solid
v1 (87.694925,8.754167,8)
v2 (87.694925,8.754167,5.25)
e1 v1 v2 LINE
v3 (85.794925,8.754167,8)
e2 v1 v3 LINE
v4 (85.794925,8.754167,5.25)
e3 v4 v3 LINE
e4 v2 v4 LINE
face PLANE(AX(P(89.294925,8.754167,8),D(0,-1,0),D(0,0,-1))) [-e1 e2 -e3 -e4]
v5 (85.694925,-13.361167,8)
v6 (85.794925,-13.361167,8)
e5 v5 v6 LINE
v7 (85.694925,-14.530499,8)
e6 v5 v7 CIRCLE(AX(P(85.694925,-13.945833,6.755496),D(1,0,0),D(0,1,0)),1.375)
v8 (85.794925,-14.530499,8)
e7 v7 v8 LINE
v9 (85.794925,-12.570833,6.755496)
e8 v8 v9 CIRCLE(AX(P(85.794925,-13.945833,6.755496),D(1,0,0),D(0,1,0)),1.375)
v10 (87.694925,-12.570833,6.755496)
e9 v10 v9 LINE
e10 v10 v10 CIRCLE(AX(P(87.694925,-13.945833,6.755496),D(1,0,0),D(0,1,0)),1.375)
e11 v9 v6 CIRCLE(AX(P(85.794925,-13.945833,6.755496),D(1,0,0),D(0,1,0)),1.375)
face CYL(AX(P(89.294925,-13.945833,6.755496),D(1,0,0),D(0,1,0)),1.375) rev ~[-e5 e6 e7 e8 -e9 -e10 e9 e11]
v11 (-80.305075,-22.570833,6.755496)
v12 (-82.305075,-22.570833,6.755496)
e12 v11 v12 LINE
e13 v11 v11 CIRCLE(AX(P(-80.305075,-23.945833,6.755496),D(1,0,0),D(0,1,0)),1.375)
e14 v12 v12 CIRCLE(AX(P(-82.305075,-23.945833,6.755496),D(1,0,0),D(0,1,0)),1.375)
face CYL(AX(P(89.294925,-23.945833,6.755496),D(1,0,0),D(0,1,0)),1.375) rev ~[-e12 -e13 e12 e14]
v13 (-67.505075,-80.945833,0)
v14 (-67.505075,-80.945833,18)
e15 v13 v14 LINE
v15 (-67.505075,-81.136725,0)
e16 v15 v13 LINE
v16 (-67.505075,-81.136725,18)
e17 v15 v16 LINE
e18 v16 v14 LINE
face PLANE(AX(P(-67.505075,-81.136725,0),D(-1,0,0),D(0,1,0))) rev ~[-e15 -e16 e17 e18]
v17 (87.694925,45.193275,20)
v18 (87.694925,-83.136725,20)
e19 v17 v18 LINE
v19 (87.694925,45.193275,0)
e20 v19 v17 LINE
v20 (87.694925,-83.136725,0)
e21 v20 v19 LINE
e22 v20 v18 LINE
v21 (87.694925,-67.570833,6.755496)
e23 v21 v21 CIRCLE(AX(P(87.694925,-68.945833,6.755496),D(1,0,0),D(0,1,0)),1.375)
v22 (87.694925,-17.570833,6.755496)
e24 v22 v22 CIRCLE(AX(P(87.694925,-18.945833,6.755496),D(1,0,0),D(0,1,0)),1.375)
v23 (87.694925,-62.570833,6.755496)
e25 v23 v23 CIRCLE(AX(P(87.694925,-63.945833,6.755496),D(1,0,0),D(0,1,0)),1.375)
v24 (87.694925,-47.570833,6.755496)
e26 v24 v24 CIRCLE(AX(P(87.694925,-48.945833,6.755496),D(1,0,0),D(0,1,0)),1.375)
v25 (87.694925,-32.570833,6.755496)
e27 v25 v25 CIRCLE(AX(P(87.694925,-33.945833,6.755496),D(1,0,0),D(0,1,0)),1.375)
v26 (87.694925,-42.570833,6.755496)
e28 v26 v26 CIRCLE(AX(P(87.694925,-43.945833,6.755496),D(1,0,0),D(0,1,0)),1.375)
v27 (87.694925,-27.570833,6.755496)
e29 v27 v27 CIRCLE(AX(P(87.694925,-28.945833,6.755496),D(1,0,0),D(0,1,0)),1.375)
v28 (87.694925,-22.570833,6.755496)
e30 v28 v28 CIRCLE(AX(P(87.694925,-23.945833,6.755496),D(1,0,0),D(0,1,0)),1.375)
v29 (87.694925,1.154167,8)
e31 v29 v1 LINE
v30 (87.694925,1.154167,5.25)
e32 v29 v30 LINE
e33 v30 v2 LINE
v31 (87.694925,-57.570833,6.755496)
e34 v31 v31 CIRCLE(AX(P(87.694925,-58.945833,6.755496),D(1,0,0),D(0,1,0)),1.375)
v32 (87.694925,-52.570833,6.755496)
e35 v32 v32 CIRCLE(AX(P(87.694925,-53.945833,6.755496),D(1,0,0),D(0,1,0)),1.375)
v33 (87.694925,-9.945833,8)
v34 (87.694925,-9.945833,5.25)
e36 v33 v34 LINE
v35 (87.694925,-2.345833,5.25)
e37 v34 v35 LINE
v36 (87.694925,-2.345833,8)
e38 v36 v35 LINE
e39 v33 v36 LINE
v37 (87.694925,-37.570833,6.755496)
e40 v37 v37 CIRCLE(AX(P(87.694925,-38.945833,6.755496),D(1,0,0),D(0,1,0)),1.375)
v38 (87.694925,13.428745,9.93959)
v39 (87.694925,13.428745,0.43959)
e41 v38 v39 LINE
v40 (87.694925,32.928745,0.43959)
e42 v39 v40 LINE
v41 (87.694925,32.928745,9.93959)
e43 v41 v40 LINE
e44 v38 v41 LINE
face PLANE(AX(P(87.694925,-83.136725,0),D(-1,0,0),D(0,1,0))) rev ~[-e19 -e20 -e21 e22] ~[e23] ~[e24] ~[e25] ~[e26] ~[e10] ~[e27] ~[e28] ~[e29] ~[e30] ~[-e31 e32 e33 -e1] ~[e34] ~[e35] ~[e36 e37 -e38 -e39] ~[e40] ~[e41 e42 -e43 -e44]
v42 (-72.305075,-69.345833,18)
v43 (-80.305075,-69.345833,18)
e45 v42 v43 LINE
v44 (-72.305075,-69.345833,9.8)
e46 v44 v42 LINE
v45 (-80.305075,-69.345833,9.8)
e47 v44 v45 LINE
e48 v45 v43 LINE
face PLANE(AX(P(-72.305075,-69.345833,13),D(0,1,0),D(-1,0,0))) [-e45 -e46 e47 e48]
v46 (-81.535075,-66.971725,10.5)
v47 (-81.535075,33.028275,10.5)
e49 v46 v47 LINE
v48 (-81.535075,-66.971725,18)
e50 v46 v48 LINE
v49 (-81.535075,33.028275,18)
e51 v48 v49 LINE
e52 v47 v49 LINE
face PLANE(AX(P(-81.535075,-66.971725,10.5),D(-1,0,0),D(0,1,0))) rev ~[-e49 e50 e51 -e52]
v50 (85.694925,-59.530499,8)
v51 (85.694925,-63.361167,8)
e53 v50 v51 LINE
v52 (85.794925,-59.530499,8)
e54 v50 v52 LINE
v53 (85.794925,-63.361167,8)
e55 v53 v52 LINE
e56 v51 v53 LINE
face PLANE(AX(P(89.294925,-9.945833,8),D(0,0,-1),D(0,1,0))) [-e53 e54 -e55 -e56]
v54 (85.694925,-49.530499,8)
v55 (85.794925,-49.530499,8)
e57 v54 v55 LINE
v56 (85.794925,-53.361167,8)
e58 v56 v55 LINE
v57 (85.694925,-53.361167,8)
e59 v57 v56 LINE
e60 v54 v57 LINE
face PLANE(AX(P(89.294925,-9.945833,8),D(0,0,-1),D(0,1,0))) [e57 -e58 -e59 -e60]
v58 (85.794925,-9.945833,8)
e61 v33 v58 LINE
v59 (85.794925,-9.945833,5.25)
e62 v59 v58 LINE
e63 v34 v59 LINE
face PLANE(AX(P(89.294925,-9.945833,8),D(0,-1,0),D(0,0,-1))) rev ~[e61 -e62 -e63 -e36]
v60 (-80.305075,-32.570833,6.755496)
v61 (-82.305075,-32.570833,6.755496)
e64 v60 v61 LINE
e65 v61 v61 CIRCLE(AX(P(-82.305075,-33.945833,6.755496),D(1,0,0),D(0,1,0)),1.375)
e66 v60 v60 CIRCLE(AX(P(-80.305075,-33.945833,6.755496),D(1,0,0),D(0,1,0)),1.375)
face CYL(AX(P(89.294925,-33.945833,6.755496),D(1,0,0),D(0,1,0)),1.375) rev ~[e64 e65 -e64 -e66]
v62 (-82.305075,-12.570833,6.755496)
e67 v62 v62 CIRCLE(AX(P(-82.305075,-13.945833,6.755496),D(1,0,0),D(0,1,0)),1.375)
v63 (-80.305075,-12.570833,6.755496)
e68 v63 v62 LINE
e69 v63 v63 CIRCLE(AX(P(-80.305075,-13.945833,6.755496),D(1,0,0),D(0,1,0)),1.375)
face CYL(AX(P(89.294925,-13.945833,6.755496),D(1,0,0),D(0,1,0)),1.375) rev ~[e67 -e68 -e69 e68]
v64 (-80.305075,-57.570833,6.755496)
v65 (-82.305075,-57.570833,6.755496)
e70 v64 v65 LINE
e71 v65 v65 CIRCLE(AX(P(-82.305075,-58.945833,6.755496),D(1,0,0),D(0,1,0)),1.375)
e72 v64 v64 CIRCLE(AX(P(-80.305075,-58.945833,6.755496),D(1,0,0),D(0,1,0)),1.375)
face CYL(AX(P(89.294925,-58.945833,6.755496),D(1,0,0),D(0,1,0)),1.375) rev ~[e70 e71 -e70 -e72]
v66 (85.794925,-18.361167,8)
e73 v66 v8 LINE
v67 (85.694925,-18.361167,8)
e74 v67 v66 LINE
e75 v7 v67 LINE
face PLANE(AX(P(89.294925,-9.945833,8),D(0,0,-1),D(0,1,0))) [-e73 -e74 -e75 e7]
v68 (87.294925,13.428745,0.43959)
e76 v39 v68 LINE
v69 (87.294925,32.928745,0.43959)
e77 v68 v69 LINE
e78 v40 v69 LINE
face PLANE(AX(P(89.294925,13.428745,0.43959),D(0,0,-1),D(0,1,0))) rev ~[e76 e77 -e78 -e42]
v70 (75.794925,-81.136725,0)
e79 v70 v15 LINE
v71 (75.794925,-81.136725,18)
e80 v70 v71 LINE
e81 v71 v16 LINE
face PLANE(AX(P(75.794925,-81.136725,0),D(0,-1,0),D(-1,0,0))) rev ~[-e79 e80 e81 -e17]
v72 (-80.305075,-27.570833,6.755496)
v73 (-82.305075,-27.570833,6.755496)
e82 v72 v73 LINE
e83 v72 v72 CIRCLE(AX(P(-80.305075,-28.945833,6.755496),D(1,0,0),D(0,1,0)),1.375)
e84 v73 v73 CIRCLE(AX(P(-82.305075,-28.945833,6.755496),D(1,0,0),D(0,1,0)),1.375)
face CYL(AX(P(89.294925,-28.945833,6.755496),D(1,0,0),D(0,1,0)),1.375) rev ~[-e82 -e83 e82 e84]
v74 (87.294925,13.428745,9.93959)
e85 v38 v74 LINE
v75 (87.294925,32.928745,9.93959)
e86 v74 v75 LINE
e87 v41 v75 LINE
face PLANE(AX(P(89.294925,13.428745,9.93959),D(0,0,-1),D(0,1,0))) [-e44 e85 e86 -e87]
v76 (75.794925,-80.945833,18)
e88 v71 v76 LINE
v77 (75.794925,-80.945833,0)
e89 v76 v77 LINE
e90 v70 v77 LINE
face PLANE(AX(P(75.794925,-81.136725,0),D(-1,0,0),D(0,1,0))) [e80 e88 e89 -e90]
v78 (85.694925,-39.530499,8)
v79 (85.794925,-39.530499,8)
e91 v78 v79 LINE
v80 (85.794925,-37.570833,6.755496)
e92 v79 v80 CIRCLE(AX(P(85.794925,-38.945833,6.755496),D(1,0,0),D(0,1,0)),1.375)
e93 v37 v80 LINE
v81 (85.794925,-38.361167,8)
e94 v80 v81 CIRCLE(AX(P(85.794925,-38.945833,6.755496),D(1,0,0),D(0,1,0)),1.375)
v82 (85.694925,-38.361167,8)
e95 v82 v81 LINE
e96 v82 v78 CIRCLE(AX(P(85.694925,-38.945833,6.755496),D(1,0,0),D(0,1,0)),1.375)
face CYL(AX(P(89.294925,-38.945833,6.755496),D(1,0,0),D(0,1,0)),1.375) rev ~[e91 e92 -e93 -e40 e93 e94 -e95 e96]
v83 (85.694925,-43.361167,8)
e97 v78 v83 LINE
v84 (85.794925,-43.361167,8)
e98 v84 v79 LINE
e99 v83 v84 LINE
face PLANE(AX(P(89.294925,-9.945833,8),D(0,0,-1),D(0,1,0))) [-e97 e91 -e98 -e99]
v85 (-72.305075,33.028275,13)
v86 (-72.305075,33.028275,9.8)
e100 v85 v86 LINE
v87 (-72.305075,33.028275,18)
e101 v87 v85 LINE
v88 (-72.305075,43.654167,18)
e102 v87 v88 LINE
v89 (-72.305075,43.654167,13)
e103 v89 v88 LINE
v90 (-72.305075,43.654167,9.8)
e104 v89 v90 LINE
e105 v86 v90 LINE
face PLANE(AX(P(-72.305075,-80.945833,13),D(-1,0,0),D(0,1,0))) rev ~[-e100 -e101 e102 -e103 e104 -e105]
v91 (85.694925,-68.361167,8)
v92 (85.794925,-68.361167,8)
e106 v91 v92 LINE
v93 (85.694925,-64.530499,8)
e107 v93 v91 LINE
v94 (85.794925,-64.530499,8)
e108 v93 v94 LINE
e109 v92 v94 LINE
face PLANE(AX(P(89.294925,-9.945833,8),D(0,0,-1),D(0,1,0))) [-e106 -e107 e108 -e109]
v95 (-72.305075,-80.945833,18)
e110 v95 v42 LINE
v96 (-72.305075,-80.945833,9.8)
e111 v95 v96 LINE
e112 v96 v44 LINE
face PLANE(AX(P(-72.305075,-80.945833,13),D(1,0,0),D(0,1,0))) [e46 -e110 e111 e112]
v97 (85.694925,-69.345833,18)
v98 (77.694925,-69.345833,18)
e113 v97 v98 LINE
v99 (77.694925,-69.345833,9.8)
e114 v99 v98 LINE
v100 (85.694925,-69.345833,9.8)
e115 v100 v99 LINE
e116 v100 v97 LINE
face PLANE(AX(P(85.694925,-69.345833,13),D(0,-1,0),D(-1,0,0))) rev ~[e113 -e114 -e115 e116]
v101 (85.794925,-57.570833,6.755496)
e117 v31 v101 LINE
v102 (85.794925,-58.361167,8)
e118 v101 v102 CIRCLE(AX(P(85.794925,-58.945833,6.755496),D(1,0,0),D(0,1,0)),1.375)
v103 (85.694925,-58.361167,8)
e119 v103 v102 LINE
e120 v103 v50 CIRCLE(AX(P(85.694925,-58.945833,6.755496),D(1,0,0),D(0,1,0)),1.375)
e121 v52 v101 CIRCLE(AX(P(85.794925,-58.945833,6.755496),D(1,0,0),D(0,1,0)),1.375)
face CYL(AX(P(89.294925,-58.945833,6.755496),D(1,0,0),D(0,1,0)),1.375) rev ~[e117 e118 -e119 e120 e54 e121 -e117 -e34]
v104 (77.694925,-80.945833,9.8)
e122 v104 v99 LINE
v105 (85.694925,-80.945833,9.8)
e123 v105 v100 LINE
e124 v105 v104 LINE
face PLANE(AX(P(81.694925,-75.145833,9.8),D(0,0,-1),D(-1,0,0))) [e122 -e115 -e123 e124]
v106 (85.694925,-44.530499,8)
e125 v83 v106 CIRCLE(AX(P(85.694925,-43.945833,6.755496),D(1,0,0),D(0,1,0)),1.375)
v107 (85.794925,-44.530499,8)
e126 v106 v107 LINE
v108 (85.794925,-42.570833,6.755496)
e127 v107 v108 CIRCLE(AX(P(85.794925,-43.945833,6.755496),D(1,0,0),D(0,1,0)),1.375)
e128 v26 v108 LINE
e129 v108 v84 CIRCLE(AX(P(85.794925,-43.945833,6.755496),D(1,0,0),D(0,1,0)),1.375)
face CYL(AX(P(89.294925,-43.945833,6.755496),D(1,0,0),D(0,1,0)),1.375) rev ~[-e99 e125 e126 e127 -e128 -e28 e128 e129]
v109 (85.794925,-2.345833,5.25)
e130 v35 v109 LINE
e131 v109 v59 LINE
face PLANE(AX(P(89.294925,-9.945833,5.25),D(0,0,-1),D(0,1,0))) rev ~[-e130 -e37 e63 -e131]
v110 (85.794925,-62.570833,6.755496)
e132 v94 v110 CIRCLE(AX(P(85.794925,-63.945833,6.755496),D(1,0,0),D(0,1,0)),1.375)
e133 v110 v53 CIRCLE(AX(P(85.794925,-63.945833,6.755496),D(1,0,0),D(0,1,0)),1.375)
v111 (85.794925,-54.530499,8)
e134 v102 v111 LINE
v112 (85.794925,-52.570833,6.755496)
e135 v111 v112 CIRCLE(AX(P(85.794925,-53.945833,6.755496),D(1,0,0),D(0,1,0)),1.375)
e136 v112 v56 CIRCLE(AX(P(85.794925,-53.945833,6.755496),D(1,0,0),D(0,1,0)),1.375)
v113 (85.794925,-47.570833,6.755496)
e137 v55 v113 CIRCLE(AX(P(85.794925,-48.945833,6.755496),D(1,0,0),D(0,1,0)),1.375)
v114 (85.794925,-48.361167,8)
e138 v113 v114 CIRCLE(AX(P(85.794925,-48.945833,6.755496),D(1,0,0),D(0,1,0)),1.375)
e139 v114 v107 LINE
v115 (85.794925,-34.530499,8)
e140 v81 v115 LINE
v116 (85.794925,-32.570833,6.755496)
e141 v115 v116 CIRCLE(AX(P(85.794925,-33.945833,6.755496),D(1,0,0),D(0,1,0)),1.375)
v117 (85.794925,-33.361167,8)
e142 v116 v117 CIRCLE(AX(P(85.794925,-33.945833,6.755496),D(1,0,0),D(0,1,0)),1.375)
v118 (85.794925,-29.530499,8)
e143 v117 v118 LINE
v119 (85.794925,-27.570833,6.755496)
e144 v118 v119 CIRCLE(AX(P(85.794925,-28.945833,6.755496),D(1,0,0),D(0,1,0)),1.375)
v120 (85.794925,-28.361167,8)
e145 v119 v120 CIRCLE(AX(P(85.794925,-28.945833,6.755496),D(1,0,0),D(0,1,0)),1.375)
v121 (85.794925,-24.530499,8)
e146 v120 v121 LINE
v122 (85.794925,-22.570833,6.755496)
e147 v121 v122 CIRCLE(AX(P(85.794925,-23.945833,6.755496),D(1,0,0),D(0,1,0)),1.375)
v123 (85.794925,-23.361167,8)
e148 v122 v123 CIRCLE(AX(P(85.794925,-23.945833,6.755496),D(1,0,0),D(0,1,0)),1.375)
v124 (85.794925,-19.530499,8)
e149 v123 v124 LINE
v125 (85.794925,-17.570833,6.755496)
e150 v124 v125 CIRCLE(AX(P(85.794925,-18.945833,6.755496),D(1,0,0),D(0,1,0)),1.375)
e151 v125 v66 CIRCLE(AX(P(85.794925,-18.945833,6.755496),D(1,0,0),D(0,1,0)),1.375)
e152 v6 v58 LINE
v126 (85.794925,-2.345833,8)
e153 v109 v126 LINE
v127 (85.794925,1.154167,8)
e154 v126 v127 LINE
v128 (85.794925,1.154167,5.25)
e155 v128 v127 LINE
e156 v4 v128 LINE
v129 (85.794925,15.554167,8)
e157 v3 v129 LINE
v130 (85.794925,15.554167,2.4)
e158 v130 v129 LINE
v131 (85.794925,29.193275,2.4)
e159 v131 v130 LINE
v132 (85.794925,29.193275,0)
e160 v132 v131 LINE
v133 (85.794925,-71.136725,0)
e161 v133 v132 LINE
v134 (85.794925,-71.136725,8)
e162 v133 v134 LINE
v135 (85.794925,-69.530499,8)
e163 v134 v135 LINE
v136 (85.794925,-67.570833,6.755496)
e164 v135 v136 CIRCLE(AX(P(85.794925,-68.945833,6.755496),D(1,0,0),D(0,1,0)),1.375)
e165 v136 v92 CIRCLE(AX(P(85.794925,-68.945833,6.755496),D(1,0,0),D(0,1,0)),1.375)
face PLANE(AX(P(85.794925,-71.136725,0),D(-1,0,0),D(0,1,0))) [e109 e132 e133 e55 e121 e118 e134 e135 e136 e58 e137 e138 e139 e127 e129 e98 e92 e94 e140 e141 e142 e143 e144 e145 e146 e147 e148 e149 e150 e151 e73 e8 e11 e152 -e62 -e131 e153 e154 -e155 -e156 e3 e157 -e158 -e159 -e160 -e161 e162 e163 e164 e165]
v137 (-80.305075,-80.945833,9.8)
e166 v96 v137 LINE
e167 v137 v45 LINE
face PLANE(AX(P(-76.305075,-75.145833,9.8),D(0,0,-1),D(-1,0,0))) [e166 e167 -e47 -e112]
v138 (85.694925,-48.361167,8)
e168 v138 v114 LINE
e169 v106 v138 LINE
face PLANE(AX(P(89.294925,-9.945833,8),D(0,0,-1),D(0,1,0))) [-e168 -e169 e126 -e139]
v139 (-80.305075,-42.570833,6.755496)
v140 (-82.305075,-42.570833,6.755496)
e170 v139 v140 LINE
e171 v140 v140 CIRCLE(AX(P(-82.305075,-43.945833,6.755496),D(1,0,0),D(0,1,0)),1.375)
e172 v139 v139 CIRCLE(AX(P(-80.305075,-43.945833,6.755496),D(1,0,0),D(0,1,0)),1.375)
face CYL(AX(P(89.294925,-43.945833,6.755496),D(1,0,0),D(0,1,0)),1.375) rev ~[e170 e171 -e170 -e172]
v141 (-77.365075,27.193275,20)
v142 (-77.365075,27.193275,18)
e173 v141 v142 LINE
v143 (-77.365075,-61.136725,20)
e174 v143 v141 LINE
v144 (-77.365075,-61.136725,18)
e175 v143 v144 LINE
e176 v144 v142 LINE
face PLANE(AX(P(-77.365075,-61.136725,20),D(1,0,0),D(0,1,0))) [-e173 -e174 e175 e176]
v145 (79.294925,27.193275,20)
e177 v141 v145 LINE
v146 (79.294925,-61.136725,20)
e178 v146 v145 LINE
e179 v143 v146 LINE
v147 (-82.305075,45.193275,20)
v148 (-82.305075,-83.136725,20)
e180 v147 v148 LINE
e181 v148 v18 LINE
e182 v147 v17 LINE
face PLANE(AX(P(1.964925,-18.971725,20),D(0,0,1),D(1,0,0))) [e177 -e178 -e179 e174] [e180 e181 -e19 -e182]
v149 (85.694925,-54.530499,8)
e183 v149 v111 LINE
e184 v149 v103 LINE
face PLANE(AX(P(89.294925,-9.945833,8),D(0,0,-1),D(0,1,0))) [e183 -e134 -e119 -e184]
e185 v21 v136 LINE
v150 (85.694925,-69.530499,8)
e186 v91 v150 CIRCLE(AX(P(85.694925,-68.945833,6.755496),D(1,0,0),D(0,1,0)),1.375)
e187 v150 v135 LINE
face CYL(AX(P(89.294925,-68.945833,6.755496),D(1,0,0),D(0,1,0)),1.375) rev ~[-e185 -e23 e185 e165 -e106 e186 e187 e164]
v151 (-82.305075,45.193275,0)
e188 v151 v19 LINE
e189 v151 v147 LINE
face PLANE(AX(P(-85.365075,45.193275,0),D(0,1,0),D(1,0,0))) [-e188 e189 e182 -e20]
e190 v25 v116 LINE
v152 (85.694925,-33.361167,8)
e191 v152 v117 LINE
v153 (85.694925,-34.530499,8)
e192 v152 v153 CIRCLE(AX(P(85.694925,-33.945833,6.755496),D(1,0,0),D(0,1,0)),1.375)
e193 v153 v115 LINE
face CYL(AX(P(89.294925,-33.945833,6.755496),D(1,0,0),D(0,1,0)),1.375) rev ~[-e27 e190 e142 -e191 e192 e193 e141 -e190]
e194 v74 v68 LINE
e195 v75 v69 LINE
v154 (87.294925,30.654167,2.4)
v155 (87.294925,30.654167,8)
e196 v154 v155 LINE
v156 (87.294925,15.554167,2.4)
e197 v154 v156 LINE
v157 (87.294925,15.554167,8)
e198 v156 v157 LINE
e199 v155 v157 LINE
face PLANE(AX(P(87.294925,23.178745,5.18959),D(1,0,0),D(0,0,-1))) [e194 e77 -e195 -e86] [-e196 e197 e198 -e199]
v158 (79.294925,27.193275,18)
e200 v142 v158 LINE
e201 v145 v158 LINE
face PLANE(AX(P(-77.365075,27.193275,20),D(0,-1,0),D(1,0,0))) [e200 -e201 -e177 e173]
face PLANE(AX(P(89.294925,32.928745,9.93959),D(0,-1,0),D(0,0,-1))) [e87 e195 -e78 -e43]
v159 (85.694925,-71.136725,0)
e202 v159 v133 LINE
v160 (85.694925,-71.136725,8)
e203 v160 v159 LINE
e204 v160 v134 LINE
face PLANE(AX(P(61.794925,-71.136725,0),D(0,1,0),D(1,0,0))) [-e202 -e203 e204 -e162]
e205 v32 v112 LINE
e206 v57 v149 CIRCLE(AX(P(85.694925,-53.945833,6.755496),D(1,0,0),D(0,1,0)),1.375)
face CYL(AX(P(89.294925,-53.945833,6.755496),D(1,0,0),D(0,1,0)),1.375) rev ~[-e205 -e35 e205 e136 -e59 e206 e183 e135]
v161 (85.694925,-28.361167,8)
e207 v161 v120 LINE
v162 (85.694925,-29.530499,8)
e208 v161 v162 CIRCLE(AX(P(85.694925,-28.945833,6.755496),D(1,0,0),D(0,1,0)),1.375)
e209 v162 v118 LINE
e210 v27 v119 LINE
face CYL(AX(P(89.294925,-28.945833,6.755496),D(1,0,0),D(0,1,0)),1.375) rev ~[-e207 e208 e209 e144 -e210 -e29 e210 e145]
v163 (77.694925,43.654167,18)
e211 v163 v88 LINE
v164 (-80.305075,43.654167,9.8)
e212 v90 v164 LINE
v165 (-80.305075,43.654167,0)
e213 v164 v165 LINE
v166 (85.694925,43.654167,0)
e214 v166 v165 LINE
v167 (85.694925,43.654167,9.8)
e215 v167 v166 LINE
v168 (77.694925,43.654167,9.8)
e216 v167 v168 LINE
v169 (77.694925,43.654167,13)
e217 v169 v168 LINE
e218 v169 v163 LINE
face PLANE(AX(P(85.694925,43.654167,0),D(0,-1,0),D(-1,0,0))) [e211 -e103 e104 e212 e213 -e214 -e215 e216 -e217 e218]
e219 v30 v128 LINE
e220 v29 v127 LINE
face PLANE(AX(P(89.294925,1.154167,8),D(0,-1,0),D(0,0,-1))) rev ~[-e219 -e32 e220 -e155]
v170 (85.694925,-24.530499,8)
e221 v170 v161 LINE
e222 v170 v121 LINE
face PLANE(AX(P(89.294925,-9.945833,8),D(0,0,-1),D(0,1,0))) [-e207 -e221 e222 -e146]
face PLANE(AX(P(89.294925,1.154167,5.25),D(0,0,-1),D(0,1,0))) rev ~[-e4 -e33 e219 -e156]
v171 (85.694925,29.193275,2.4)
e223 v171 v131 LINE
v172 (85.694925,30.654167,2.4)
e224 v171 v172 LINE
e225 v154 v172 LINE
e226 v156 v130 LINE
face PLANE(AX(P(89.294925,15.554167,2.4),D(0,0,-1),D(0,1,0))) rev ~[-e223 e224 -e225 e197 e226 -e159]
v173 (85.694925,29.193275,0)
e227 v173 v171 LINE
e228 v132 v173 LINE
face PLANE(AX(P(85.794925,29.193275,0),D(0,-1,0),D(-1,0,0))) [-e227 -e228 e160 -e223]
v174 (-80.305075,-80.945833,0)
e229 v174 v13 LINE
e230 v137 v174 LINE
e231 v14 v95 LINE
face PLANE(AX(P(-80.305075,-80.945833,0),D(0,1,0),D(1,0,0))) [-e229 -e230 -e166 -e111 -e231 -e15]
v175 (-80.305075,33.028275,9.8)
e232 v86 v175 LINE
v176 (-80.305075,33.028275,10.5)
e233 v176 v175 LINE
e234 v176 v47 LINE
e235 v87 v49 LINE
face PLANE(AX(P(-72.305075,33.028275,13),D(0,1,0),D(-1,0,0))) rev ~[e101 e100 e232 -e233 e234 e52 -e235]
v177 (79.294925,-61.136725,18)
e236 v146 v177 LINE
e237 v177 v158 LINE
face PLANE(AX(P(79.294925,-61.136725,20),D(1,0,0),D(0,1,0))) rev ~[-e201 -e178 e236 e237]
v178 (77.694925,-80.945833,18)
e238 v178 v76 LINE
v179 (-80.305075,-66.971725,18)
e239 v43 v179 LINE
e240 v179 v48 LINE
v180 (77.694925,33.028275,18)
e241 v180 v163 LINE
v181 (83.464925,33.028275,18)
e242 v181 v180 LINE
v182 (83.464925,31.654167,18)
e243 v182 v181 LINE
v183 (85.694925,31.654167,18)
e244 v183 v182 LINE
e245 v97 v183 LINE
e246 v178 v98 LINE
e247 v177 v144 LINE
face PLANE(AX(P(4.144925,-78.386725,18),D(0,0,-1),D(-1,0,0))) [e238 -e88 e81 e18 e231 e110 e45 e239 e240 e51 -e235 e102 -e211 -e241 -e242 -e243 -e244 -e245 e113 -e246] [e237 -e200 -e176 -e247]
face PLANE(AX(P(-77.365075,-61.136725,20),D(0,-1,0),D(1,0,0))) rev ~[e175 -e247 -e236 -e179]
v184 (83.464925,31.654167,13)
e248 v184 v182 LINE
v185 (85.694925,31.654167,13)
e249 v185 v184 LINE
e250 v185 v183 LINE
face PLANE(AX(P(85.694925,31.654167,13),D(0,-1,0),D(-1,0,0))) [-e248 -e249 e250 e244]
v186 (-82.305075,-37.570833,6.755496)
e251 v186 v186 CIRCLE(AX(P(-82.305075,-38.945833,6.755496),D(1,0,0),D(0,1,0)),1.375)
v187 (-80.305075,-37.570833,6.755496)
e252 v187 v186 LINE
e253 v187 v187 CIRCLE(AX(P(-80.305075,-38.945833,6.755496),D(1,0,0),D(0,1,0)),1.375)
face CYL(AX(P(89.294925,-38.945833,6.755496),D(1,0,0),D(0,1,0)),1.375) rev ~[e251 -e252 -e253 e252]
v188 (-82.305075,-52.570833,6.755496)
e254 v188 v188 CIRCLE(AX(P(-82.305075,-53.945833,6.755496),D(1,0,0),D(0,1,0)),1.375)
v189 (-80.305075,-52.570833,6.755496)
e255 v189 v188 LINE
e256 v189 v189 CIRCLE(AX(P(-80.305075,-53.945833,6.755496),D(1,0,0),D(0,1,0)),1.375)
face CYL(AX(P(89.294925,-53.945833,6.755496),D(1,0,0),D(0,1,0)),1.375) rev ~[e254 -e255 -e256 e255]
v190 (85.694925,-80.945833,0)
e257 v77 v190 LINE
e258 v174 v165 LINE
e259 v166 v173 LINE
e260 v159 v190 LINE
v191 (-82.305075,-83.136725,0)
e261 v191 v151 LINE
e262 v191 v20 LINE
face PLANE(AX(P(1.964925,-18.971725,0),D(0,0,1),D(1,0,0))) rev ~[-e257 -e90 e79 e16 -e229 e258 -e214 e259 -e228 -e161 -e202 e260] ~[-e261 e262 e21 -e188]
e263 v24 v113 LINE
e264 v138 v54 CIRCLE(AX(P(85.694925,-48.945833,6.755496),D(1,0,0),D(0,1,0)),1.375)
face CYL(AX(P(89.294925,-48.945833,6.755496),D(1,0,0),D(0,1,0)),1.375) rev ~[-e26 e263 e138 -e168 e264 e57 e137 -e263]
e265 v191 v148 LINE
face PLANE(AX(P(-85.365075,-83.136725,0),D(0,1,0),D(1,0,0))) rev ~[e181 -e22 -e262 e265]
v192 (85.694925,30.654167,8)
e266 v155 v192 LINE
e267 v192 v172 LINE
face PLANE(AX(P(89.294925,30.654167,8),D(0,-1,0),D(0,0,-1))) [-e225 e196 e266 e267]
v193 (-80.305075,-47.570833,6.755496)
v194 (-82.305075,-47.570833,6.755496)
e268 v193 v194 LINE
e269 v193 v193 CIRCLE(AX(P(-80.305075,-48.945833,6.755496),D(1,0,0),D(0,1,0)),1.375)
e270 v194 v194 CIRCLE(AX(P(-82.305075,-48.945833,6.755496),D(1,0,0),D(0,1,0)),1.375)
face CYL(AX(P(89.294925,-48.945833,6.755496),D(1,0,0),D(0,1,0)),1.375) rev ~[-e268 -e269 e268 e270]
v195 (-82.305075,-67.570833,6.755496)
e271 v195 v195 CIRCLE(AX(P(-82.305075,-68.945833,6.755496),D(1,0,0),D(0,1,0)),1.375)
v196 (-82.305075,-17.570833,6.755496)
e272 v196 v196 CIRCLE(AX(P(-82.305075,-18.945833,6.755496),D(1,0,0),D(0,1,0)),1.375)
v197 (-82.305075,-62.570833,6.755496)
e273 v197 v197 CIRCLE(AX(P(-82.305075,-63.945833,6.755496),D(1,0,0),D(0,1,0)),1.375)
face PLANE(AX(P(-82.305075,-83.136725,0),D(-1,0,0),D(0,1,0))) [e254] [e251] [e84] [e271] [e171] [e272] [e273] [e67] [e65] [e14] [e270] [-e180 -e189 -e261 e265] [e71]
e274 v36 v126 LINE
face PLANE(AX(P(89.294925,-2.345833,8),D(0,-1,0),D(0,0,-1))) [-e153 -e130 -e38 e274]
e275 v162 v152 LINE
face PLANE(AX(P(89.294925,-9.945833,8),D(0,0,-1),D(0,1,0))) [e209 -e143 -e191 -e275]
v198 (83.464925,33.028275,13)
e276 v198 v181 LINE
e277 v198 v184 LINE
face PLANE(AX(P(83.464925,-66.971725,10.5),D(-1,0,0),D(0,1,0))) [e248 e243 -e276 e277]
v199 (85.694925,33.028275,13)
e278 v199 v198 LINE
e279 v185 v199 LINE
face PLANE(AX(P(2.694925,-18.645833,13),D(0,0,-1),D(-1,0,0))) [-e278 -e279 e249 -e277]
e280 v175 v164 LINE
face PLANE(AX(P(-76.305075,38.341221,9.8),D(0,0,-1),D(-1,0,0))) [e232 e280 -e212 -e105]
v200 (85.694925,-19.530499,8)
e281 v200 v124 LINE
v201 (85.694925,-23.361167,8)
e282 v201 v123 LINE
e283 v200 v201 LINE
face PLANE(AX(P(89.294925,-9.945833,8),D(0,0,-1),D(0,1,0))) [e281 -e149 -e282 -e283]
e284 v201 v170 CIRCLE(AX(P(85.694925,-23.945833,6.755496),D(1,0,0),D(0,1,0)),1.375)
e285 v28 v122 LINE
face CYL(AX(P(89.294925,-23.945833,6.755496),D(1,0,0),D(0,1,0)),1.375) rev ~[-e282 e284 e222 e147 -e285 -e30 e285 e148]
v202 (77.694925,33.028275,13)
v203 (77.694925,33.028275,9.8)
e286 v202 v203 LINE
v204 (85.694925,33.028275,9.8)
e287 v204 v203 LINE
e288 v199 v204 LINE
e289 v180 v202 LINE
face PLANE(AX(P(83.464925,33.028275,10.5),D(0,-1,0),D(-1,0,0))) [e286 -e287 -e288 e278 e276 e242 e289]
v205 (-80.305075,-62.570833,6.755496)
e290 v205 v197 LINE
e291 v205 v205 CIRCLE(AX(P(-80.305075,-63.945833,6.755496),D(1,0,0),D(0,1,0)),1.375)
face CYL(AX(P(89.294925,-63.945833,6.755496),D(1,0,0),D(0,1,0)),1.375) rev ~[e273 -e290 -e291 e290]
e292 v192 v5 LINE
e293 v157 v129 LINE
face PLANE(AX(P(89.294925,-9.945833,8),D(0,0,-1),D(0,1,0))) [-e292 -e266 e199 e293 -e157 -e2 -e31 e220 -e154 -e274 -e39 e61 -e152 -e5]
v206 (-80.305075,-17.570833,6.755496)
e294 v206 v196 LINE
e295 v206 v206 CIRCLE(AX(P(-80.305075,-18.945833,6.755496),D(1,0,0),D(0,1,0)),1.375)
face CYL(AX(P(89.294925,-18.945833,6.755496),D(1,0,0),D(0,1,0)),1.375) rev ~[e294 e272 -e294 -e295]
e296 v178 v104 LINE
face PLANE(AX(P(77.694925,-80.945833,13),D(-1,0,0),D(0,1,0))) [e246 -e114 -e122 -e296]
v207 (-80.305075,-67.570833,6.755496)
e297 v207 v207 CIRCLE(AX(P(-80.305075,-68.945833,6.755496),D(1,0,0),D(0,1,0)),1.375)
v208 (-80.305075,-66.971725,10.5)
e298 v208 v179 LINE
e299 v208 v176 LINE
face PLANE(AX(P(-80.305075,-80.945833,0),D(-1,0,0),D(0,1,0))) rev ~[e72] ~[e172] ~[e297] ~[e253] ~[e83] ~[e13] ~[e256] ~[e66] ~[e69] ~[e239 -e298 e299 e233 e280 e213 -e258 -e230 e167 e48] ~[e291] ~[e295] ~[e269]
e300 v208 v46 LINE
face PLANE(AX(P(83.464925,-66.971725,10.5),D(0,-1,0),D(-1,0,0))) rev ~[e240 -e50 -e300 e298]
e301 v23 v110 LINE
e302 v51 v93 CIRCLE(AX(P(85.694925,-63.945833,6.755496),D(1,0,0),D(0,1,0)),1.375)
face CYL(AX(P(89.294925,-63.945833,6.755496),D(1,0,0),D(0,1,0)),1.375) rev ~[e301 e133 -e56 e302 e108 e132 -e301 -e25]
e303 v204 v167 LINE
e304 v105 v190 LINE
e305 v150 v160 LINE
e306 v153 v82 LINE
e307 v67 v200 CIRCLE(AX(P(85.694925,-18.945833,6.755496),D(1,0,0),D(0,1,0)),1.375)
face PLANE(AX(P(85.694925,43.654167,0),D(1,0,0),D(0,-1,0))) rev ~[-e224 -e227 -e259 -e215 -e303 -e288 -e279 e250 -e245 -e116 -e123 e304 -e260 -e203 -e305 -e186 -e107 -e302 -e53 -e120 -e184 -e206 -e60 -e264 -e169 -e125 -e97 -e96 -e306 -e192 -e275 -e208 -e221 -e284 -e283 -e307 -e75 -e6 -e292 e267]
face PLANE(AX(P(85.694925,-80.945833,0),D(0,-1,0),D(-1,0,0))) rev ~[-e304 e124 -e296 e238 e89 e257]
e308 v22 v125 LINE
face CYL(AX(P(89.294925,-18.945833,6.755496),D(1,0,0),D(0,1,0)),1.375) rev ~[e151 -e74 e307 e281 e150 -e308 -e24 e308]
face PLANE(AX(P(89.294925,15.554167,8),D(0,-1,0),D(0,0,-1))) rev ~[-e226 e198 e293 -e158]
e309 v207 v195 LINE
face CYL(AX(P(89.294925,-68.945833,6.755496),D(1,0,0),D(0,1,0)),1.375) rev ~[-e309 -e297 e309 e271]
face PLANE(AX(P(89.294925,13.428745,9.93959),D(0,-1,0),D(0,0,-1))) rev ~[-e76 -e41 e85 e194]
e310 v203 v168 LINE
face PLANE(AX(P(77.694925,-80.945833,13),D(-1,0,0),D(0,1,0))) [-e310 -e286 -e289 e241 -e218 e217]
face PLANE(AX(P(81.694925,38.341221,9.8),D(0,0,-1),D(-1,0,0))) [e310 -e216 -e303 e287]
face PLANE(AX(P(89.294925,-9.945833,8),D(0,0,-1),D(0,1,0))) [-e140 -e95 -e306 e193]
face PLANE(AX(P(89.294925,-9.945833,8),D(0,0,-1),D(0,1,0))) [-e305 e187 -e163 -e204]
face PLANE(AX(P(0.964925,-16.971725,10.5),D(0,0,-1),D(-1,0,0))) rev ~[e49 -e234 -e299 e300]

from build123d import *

# Parameters (mm, degrees)
SKETCH_1_W           = 174.66
SKETCH_1_H           = 128.33
EXTRUDE_1_DEPTH      = 20
CUT_EXTRUDE_2_DEPTH  = 8
CUT_EXTRUDE_3_DEPTH  = 10.5
SKETCH_6_W           = 5.6
SKETCH_6_H           = 15.1
SKETCH_6_W_2         = 2.75
SKETCH_6_H_2         = 7.6
CUT_EXTRUDE_4_DEPTH  = 8
SKETCH_7_W           = 9.5
SKETCH_7_H           = 19.5
CUT_EXTRUDE_5_DEPTH  = 2
SKETCH_8_R           = 1.375
CUT_EXTRUDE_6_DEPTH  = 195.468071014
SKETCH_9_W           = 143.3
SKETCH_9_H           = 5.5
SKETCH_9_W_2         = 144.4
SKETCH_9_H_2         = 6.339108063
CUT_EXTRUDE_7_DEPTH  = 18
SKETCH_2_W           = 156.66
SKETCH_2_H           = 88.33
CUT_EXTRUDE_8_DEPTH  = 124.6337279
SKETCH_10_W          = 165
SKETCH_10_H          = 100
CUT_EXTRUDE_10_DEPTH = 7.5
SKETCH_11_W          = 44.991562028
SKETCH_11_H          = 7.165
CUT_EXTRUDE_11_DEPTH = 18
SKETCH_12_W          = 166
SKETCH_12_H          = 124.6
CUT_EXTRUDE_12_DEPTH = 13
SKETCH_13_W          = 150
SKETCH_13_H          = 124.6
CUT_EXTRUDE_15_DEPTH = 5
SKETCH_14_W          = 8
SKETCH_14_H          = 101
CUT_EXTRUDE_16_DEPTH = 5
SKETCH_15_W          = 3.06
SKETCH_15_H          = 128.33
SKETCH_15_W_2        = 1.6
CUT_EXTRUDE_17_DEPTH = 124.6337279
SKETCH_16_W          = 8
SKETCH_16_H          = 11.6
SKETCH_16_H_2        = 10.625891937
EXTRUDE_2_DEPTH      = 3.2


with BuildPart() as part:
    # 草图1 → 凸台-拉伸1 (new body)
    with BuildSketch(Plane.XY):
        with Locations((1.964925, -18.971725)):
            Rectangle(SKETCH_1_W, SKETCH_1_H)
    extrude(amount=EXTRUDE_1_DEPTH)

    # 草图4 → 切除-拉伸2 (cut)
    with BuildSketch(Plane(origin=(0, 0, 0), x_dir=(-1, 0, 0), z_dir=(0, 0, -1))):
        Polygon((-85.794925, 29.193275), (78.715075, 29.193275), (78.715075, -71.136725), (-16.794925, -71.136725), (-16.794925, -74.136725), (-61.794925, -74.136725), (-61.794925, -71.136725), (-85.794925, -71.136725), align=None)
    extrude(amount=-CUT_EXTRUDE_2_DEPTH, mode=Mode.SUBTRACT)

    # 草图5 → 切除-拉伸3 (cut)
    with BuildSketch(Plane(origin=(0, 0, 0), x_dir=(-1, 0, 0), z_dir=(0, 0, -1))):
        Polygon((-76.894925, 34.854166937), (71.505075, 34.854166937), (71.505075, 43.654166937), (80.305075, 43.654166937), (80.305075, 34.854166937), (80.305075, -72.145833063), (80.305075, -80.945833063), (69.505075, -80.945833063), (69.505075, -72.145833063), (-77.794925, -72.145833063), (-77.794925, -80.945833063), (-85.694925, -80.945833063), (-85.694925, -72.145833063), (-85.694925, 34.854166937), (-85.694925, 43.654166937), (-76.894925, 43.654166937), align=None)
    extrude(amount=-CUT_EXTRUDE_3_DEPTH, mode=Mode.SUBTRACT)

    # 草图6 → 切除-拉伸4 (cut)
    with BuildSketch(Plane(origin=(89.294925, 0, 0), x_dir=(0, 0, -1), z_dir=(1, 0, 0))):
        with Locations((-5.2, 23.104166937)):
            Rectangle(SKETCH_6_W, SKETCH_6_H)
        with Locations((-6.625, 4.954166937)):
            Rectangle(SKETCH_6_W_2, SKETCH_6_H_2)
        with Locations((-6.625, -6.145833063)):
            Rectangle(SKETCH_6_W_2, SKETCH_6_H_2)
    extrude(amount=-CUT_EXTRUDE_4_DEPTH, mode=Mode.SUBTRACT)

    # 草图7 → 切除-拉伸5 (cut)
    with BuildSketch(Plane(origin=(89.294925, 0, 0), x_dir=(0, 0, -1), z_dir=(1, 0, 0))):
        with Locations((-5.189589766, 23.17874546)):
            Rectangle(SKETCH_7_W, SKETCH_7_H)
    extrude(amount=-CUT_EXTRUDE_5_DEPTH, mode=Mode.SUBTRACT)

    # 草图8 → 切除-拉伸6 (cut, through all)
    with BuildSketch(Plane(origin=(89.294925, 0, 0), x_dir=(0, 0, -1), z_dir=(1, 0, 0))):
        with Locations(Location((-6.755495721, -13.945833063, 0), (0, 0, 90))):
            Circle(SKETCH_8_R)
        with Locations(Location((-6.755495721, -18.945833063, 0), (0, 0, 90))):
            Circle(SKETCH_8_R)
        with Locations(Location((-6.755495721, -23.945833063, 0), (0, 0, 90))):
            Circle(SKETCH_8_R)
        with Locations(Location((-6.755495721, -28.945833063, 0), (0, 0, 90))):
            Circle(SKETCH_8_R)
        with Locations(Location((-6.755495721, -33.945833063, 0), (0, 0, 90))):
            Circle(SKETCH_8_R)
        with Locations(Location((-6.755495721, -38.945833063, 0), (0, 0, 90))):
            Circle(SKETCH_8_R)
        with Locations(Location((-6.755495721, -43.945833063, 0), (0, 0, 90))):
            Circle(SKETCH_8_R)
        with Locations(Location((-6.755495721, -48.945833063, 0), (0, 0, 90))):
            Circle(SKETCH_8_R)
        with Locations(Location((-6.755495721, -53.945833063, 0), (0, 0, 90))):
            Circle(SKETCH_8_R)
        with Locations(Location((-6.755495721, -58.945833063, 0), (0, 0, 90))):
            Circle(SKETCH_8_R)
        with Locations(Location((-6.755495721, -63.945833063, 0), (0, 0, 90))):
            Circle(SKETCH_8_R)
        with Locations(Location((-6.755495721, -68.945833063, 0), (0, 0, 90))):
            Circle(SKETCH_8_R)
    extrude(amount=-CUT_EXTRUDE_6_DEPTH, mode=Mode.SUBTRACT)

    # 草图9 → 切除-拉伸7 (cut)
    with BuildSketch(Plane(origin=(0, 0, 0), x_dir=(-1, 0, 0), z_dir=(0, 0, -1))):
        with Locations((-4.144925, -78.386725)):
            Rectangle(SKETCH_9_W, SKETCH_9_H)
        with Locations((-2.694925, 40.023720969)):
            Rectangle(SKETCH_9_W_2, SKETCH_9_H_2)
    extrude(amount=-CUT_EXTRUDE_7_DEPTH, mode=Mode.SUBTRACT)

    # 草图2 → 切除-拉伸8 (cut, through all)
    with BuildSketch(Plane.XY.offset(20)):
        with Locations((0.964925, -16.971725)):
            Rectangle(SKETCH_2_W, SKETCH_2_H)
    extrude(amount=-CUT_EXTRUDE_8_DEPTH, mode=Mode.SUBTRACT)

    # 草图10 → 切除-拉伸10 (cut)
    with BuildSketch(Plane(origin=(0, 0, 10.5), x_dir=(-1, 0, 0), z_dir=(0, 0, -1))):
        with Locations((-0.964925, -16.971725)):
            Rectangle(SKETCH_10_W, SKETCH_10_H)
    extrude(amount=-CUT_EXTRUDE_10_DEPTH, mode=Mode.SUBTRACT)

    # 草图11 → 切除-拉伸11 (cut)
    with BuildSketch(Plane(origin=(0, 0, 0), x_dir=(-1, 0, 0), z_dir=(0, 0, -1))):
        with Locations((-39.290706014, -70.554225)):
            Rectangle(SKETCH_11_W, SKETCH_11_H)
    extrude(amount=-CUT_EXTRUDE_11_DEPTH, mode=Mode.SUBTRACT)

    # 草图12 → 切除-拉伸12 (cut)
    with BuildSketch(Plane(origin=(0, 0, 0), x_dir=(-1, 0, 0), z_dir=(0, 0, -1))):
        with Locations((-2.694925, -18.645833063)):
            Rectangle(SKETCH_12_W, SKETCH_12_H)
    extrude(amount=-CUT_EXTRUDE_12_DEPTH, mode=Mode.SUBTRACT)

    # 草图13 → 切除-拉伸15 (cut)
    with BuildSketch(Plane(origin=(0, 0, 13), x_dir=(-1, 0, 0), z_dir=(0, 0, -1))):
        with Locations((-2.694925, -18.645833063)):
            Rectangle(SKETCH_13_W, SKETCH_13_H)
    extrude(amount=-CUT_EXTRUDE_15_DEPTH, mode=Mode.SUBTRACT)

    # 草图14 → 切除-拉伸16 (cut)
    with BuildSketch(Plane(origin=(0, 0, 13), x_dir=(-1, 0, 0), z_dir=(0, 0, -1))):
        with Locations((76.305075, -18.845833063)):
            Rectangle(SKETCH_14_W, SKETCH_14_H)
        with Locations((-81.694925, -18.845833063)):
            Rectangle(SKETCH_14_W, SKETCH_14_H)
    extrude(amount=-CUT_EXTRUDE_16_DEPTH, mode=Mode.SUBTRACT)

    # 草图15 → 切除-拉伸17 (cut, through all)
    with BuildSketch(Plane(origin=(0, 0, 0), x_dir=(-1, 0, 0), z_dir=(0, 0, -1))):
        with Locations((83.835075, -18.971725)):
            Rectangle(SKETCH_15_W, SKETCH_15_H)
        with Locations((-88.494925, -18.971725)):
            Rectangle(SKETCH_15_W_2, SKETCH_15_H)
    extrude(amount=-CUT_EXTRUDE_17_DEPTH, mode=Mode.SUBTRACT)

    # 草图16 → 凸台-拉伸2 (add)
    with BuildSketch(Plane(origin=(0, 0, 13), x_dir=(-1, 0, 0), z_dir=(0, 0, -1))):
        with Locations((76.305075, -75.145833063)):
            Rectangle(SKETCH_16_W, SKETCH_16_H)
        with Locations((-81.694925, -75.145833063)):
            Rectangle(SKETCH_16_W, SKETCH_16_H)
        with Locations((76.305075, 38.341220968)):
            Rectangle(SKETCH_16_W, SKETCH_16_H_2)
        with Locations((-81.694925, 38.341220968)):
            Rectangle(SKETCH_16_W, SKETCH_16_H_2)
    extrude(amount=EXTRUDE_2_DEPTH)


solid = part.part
